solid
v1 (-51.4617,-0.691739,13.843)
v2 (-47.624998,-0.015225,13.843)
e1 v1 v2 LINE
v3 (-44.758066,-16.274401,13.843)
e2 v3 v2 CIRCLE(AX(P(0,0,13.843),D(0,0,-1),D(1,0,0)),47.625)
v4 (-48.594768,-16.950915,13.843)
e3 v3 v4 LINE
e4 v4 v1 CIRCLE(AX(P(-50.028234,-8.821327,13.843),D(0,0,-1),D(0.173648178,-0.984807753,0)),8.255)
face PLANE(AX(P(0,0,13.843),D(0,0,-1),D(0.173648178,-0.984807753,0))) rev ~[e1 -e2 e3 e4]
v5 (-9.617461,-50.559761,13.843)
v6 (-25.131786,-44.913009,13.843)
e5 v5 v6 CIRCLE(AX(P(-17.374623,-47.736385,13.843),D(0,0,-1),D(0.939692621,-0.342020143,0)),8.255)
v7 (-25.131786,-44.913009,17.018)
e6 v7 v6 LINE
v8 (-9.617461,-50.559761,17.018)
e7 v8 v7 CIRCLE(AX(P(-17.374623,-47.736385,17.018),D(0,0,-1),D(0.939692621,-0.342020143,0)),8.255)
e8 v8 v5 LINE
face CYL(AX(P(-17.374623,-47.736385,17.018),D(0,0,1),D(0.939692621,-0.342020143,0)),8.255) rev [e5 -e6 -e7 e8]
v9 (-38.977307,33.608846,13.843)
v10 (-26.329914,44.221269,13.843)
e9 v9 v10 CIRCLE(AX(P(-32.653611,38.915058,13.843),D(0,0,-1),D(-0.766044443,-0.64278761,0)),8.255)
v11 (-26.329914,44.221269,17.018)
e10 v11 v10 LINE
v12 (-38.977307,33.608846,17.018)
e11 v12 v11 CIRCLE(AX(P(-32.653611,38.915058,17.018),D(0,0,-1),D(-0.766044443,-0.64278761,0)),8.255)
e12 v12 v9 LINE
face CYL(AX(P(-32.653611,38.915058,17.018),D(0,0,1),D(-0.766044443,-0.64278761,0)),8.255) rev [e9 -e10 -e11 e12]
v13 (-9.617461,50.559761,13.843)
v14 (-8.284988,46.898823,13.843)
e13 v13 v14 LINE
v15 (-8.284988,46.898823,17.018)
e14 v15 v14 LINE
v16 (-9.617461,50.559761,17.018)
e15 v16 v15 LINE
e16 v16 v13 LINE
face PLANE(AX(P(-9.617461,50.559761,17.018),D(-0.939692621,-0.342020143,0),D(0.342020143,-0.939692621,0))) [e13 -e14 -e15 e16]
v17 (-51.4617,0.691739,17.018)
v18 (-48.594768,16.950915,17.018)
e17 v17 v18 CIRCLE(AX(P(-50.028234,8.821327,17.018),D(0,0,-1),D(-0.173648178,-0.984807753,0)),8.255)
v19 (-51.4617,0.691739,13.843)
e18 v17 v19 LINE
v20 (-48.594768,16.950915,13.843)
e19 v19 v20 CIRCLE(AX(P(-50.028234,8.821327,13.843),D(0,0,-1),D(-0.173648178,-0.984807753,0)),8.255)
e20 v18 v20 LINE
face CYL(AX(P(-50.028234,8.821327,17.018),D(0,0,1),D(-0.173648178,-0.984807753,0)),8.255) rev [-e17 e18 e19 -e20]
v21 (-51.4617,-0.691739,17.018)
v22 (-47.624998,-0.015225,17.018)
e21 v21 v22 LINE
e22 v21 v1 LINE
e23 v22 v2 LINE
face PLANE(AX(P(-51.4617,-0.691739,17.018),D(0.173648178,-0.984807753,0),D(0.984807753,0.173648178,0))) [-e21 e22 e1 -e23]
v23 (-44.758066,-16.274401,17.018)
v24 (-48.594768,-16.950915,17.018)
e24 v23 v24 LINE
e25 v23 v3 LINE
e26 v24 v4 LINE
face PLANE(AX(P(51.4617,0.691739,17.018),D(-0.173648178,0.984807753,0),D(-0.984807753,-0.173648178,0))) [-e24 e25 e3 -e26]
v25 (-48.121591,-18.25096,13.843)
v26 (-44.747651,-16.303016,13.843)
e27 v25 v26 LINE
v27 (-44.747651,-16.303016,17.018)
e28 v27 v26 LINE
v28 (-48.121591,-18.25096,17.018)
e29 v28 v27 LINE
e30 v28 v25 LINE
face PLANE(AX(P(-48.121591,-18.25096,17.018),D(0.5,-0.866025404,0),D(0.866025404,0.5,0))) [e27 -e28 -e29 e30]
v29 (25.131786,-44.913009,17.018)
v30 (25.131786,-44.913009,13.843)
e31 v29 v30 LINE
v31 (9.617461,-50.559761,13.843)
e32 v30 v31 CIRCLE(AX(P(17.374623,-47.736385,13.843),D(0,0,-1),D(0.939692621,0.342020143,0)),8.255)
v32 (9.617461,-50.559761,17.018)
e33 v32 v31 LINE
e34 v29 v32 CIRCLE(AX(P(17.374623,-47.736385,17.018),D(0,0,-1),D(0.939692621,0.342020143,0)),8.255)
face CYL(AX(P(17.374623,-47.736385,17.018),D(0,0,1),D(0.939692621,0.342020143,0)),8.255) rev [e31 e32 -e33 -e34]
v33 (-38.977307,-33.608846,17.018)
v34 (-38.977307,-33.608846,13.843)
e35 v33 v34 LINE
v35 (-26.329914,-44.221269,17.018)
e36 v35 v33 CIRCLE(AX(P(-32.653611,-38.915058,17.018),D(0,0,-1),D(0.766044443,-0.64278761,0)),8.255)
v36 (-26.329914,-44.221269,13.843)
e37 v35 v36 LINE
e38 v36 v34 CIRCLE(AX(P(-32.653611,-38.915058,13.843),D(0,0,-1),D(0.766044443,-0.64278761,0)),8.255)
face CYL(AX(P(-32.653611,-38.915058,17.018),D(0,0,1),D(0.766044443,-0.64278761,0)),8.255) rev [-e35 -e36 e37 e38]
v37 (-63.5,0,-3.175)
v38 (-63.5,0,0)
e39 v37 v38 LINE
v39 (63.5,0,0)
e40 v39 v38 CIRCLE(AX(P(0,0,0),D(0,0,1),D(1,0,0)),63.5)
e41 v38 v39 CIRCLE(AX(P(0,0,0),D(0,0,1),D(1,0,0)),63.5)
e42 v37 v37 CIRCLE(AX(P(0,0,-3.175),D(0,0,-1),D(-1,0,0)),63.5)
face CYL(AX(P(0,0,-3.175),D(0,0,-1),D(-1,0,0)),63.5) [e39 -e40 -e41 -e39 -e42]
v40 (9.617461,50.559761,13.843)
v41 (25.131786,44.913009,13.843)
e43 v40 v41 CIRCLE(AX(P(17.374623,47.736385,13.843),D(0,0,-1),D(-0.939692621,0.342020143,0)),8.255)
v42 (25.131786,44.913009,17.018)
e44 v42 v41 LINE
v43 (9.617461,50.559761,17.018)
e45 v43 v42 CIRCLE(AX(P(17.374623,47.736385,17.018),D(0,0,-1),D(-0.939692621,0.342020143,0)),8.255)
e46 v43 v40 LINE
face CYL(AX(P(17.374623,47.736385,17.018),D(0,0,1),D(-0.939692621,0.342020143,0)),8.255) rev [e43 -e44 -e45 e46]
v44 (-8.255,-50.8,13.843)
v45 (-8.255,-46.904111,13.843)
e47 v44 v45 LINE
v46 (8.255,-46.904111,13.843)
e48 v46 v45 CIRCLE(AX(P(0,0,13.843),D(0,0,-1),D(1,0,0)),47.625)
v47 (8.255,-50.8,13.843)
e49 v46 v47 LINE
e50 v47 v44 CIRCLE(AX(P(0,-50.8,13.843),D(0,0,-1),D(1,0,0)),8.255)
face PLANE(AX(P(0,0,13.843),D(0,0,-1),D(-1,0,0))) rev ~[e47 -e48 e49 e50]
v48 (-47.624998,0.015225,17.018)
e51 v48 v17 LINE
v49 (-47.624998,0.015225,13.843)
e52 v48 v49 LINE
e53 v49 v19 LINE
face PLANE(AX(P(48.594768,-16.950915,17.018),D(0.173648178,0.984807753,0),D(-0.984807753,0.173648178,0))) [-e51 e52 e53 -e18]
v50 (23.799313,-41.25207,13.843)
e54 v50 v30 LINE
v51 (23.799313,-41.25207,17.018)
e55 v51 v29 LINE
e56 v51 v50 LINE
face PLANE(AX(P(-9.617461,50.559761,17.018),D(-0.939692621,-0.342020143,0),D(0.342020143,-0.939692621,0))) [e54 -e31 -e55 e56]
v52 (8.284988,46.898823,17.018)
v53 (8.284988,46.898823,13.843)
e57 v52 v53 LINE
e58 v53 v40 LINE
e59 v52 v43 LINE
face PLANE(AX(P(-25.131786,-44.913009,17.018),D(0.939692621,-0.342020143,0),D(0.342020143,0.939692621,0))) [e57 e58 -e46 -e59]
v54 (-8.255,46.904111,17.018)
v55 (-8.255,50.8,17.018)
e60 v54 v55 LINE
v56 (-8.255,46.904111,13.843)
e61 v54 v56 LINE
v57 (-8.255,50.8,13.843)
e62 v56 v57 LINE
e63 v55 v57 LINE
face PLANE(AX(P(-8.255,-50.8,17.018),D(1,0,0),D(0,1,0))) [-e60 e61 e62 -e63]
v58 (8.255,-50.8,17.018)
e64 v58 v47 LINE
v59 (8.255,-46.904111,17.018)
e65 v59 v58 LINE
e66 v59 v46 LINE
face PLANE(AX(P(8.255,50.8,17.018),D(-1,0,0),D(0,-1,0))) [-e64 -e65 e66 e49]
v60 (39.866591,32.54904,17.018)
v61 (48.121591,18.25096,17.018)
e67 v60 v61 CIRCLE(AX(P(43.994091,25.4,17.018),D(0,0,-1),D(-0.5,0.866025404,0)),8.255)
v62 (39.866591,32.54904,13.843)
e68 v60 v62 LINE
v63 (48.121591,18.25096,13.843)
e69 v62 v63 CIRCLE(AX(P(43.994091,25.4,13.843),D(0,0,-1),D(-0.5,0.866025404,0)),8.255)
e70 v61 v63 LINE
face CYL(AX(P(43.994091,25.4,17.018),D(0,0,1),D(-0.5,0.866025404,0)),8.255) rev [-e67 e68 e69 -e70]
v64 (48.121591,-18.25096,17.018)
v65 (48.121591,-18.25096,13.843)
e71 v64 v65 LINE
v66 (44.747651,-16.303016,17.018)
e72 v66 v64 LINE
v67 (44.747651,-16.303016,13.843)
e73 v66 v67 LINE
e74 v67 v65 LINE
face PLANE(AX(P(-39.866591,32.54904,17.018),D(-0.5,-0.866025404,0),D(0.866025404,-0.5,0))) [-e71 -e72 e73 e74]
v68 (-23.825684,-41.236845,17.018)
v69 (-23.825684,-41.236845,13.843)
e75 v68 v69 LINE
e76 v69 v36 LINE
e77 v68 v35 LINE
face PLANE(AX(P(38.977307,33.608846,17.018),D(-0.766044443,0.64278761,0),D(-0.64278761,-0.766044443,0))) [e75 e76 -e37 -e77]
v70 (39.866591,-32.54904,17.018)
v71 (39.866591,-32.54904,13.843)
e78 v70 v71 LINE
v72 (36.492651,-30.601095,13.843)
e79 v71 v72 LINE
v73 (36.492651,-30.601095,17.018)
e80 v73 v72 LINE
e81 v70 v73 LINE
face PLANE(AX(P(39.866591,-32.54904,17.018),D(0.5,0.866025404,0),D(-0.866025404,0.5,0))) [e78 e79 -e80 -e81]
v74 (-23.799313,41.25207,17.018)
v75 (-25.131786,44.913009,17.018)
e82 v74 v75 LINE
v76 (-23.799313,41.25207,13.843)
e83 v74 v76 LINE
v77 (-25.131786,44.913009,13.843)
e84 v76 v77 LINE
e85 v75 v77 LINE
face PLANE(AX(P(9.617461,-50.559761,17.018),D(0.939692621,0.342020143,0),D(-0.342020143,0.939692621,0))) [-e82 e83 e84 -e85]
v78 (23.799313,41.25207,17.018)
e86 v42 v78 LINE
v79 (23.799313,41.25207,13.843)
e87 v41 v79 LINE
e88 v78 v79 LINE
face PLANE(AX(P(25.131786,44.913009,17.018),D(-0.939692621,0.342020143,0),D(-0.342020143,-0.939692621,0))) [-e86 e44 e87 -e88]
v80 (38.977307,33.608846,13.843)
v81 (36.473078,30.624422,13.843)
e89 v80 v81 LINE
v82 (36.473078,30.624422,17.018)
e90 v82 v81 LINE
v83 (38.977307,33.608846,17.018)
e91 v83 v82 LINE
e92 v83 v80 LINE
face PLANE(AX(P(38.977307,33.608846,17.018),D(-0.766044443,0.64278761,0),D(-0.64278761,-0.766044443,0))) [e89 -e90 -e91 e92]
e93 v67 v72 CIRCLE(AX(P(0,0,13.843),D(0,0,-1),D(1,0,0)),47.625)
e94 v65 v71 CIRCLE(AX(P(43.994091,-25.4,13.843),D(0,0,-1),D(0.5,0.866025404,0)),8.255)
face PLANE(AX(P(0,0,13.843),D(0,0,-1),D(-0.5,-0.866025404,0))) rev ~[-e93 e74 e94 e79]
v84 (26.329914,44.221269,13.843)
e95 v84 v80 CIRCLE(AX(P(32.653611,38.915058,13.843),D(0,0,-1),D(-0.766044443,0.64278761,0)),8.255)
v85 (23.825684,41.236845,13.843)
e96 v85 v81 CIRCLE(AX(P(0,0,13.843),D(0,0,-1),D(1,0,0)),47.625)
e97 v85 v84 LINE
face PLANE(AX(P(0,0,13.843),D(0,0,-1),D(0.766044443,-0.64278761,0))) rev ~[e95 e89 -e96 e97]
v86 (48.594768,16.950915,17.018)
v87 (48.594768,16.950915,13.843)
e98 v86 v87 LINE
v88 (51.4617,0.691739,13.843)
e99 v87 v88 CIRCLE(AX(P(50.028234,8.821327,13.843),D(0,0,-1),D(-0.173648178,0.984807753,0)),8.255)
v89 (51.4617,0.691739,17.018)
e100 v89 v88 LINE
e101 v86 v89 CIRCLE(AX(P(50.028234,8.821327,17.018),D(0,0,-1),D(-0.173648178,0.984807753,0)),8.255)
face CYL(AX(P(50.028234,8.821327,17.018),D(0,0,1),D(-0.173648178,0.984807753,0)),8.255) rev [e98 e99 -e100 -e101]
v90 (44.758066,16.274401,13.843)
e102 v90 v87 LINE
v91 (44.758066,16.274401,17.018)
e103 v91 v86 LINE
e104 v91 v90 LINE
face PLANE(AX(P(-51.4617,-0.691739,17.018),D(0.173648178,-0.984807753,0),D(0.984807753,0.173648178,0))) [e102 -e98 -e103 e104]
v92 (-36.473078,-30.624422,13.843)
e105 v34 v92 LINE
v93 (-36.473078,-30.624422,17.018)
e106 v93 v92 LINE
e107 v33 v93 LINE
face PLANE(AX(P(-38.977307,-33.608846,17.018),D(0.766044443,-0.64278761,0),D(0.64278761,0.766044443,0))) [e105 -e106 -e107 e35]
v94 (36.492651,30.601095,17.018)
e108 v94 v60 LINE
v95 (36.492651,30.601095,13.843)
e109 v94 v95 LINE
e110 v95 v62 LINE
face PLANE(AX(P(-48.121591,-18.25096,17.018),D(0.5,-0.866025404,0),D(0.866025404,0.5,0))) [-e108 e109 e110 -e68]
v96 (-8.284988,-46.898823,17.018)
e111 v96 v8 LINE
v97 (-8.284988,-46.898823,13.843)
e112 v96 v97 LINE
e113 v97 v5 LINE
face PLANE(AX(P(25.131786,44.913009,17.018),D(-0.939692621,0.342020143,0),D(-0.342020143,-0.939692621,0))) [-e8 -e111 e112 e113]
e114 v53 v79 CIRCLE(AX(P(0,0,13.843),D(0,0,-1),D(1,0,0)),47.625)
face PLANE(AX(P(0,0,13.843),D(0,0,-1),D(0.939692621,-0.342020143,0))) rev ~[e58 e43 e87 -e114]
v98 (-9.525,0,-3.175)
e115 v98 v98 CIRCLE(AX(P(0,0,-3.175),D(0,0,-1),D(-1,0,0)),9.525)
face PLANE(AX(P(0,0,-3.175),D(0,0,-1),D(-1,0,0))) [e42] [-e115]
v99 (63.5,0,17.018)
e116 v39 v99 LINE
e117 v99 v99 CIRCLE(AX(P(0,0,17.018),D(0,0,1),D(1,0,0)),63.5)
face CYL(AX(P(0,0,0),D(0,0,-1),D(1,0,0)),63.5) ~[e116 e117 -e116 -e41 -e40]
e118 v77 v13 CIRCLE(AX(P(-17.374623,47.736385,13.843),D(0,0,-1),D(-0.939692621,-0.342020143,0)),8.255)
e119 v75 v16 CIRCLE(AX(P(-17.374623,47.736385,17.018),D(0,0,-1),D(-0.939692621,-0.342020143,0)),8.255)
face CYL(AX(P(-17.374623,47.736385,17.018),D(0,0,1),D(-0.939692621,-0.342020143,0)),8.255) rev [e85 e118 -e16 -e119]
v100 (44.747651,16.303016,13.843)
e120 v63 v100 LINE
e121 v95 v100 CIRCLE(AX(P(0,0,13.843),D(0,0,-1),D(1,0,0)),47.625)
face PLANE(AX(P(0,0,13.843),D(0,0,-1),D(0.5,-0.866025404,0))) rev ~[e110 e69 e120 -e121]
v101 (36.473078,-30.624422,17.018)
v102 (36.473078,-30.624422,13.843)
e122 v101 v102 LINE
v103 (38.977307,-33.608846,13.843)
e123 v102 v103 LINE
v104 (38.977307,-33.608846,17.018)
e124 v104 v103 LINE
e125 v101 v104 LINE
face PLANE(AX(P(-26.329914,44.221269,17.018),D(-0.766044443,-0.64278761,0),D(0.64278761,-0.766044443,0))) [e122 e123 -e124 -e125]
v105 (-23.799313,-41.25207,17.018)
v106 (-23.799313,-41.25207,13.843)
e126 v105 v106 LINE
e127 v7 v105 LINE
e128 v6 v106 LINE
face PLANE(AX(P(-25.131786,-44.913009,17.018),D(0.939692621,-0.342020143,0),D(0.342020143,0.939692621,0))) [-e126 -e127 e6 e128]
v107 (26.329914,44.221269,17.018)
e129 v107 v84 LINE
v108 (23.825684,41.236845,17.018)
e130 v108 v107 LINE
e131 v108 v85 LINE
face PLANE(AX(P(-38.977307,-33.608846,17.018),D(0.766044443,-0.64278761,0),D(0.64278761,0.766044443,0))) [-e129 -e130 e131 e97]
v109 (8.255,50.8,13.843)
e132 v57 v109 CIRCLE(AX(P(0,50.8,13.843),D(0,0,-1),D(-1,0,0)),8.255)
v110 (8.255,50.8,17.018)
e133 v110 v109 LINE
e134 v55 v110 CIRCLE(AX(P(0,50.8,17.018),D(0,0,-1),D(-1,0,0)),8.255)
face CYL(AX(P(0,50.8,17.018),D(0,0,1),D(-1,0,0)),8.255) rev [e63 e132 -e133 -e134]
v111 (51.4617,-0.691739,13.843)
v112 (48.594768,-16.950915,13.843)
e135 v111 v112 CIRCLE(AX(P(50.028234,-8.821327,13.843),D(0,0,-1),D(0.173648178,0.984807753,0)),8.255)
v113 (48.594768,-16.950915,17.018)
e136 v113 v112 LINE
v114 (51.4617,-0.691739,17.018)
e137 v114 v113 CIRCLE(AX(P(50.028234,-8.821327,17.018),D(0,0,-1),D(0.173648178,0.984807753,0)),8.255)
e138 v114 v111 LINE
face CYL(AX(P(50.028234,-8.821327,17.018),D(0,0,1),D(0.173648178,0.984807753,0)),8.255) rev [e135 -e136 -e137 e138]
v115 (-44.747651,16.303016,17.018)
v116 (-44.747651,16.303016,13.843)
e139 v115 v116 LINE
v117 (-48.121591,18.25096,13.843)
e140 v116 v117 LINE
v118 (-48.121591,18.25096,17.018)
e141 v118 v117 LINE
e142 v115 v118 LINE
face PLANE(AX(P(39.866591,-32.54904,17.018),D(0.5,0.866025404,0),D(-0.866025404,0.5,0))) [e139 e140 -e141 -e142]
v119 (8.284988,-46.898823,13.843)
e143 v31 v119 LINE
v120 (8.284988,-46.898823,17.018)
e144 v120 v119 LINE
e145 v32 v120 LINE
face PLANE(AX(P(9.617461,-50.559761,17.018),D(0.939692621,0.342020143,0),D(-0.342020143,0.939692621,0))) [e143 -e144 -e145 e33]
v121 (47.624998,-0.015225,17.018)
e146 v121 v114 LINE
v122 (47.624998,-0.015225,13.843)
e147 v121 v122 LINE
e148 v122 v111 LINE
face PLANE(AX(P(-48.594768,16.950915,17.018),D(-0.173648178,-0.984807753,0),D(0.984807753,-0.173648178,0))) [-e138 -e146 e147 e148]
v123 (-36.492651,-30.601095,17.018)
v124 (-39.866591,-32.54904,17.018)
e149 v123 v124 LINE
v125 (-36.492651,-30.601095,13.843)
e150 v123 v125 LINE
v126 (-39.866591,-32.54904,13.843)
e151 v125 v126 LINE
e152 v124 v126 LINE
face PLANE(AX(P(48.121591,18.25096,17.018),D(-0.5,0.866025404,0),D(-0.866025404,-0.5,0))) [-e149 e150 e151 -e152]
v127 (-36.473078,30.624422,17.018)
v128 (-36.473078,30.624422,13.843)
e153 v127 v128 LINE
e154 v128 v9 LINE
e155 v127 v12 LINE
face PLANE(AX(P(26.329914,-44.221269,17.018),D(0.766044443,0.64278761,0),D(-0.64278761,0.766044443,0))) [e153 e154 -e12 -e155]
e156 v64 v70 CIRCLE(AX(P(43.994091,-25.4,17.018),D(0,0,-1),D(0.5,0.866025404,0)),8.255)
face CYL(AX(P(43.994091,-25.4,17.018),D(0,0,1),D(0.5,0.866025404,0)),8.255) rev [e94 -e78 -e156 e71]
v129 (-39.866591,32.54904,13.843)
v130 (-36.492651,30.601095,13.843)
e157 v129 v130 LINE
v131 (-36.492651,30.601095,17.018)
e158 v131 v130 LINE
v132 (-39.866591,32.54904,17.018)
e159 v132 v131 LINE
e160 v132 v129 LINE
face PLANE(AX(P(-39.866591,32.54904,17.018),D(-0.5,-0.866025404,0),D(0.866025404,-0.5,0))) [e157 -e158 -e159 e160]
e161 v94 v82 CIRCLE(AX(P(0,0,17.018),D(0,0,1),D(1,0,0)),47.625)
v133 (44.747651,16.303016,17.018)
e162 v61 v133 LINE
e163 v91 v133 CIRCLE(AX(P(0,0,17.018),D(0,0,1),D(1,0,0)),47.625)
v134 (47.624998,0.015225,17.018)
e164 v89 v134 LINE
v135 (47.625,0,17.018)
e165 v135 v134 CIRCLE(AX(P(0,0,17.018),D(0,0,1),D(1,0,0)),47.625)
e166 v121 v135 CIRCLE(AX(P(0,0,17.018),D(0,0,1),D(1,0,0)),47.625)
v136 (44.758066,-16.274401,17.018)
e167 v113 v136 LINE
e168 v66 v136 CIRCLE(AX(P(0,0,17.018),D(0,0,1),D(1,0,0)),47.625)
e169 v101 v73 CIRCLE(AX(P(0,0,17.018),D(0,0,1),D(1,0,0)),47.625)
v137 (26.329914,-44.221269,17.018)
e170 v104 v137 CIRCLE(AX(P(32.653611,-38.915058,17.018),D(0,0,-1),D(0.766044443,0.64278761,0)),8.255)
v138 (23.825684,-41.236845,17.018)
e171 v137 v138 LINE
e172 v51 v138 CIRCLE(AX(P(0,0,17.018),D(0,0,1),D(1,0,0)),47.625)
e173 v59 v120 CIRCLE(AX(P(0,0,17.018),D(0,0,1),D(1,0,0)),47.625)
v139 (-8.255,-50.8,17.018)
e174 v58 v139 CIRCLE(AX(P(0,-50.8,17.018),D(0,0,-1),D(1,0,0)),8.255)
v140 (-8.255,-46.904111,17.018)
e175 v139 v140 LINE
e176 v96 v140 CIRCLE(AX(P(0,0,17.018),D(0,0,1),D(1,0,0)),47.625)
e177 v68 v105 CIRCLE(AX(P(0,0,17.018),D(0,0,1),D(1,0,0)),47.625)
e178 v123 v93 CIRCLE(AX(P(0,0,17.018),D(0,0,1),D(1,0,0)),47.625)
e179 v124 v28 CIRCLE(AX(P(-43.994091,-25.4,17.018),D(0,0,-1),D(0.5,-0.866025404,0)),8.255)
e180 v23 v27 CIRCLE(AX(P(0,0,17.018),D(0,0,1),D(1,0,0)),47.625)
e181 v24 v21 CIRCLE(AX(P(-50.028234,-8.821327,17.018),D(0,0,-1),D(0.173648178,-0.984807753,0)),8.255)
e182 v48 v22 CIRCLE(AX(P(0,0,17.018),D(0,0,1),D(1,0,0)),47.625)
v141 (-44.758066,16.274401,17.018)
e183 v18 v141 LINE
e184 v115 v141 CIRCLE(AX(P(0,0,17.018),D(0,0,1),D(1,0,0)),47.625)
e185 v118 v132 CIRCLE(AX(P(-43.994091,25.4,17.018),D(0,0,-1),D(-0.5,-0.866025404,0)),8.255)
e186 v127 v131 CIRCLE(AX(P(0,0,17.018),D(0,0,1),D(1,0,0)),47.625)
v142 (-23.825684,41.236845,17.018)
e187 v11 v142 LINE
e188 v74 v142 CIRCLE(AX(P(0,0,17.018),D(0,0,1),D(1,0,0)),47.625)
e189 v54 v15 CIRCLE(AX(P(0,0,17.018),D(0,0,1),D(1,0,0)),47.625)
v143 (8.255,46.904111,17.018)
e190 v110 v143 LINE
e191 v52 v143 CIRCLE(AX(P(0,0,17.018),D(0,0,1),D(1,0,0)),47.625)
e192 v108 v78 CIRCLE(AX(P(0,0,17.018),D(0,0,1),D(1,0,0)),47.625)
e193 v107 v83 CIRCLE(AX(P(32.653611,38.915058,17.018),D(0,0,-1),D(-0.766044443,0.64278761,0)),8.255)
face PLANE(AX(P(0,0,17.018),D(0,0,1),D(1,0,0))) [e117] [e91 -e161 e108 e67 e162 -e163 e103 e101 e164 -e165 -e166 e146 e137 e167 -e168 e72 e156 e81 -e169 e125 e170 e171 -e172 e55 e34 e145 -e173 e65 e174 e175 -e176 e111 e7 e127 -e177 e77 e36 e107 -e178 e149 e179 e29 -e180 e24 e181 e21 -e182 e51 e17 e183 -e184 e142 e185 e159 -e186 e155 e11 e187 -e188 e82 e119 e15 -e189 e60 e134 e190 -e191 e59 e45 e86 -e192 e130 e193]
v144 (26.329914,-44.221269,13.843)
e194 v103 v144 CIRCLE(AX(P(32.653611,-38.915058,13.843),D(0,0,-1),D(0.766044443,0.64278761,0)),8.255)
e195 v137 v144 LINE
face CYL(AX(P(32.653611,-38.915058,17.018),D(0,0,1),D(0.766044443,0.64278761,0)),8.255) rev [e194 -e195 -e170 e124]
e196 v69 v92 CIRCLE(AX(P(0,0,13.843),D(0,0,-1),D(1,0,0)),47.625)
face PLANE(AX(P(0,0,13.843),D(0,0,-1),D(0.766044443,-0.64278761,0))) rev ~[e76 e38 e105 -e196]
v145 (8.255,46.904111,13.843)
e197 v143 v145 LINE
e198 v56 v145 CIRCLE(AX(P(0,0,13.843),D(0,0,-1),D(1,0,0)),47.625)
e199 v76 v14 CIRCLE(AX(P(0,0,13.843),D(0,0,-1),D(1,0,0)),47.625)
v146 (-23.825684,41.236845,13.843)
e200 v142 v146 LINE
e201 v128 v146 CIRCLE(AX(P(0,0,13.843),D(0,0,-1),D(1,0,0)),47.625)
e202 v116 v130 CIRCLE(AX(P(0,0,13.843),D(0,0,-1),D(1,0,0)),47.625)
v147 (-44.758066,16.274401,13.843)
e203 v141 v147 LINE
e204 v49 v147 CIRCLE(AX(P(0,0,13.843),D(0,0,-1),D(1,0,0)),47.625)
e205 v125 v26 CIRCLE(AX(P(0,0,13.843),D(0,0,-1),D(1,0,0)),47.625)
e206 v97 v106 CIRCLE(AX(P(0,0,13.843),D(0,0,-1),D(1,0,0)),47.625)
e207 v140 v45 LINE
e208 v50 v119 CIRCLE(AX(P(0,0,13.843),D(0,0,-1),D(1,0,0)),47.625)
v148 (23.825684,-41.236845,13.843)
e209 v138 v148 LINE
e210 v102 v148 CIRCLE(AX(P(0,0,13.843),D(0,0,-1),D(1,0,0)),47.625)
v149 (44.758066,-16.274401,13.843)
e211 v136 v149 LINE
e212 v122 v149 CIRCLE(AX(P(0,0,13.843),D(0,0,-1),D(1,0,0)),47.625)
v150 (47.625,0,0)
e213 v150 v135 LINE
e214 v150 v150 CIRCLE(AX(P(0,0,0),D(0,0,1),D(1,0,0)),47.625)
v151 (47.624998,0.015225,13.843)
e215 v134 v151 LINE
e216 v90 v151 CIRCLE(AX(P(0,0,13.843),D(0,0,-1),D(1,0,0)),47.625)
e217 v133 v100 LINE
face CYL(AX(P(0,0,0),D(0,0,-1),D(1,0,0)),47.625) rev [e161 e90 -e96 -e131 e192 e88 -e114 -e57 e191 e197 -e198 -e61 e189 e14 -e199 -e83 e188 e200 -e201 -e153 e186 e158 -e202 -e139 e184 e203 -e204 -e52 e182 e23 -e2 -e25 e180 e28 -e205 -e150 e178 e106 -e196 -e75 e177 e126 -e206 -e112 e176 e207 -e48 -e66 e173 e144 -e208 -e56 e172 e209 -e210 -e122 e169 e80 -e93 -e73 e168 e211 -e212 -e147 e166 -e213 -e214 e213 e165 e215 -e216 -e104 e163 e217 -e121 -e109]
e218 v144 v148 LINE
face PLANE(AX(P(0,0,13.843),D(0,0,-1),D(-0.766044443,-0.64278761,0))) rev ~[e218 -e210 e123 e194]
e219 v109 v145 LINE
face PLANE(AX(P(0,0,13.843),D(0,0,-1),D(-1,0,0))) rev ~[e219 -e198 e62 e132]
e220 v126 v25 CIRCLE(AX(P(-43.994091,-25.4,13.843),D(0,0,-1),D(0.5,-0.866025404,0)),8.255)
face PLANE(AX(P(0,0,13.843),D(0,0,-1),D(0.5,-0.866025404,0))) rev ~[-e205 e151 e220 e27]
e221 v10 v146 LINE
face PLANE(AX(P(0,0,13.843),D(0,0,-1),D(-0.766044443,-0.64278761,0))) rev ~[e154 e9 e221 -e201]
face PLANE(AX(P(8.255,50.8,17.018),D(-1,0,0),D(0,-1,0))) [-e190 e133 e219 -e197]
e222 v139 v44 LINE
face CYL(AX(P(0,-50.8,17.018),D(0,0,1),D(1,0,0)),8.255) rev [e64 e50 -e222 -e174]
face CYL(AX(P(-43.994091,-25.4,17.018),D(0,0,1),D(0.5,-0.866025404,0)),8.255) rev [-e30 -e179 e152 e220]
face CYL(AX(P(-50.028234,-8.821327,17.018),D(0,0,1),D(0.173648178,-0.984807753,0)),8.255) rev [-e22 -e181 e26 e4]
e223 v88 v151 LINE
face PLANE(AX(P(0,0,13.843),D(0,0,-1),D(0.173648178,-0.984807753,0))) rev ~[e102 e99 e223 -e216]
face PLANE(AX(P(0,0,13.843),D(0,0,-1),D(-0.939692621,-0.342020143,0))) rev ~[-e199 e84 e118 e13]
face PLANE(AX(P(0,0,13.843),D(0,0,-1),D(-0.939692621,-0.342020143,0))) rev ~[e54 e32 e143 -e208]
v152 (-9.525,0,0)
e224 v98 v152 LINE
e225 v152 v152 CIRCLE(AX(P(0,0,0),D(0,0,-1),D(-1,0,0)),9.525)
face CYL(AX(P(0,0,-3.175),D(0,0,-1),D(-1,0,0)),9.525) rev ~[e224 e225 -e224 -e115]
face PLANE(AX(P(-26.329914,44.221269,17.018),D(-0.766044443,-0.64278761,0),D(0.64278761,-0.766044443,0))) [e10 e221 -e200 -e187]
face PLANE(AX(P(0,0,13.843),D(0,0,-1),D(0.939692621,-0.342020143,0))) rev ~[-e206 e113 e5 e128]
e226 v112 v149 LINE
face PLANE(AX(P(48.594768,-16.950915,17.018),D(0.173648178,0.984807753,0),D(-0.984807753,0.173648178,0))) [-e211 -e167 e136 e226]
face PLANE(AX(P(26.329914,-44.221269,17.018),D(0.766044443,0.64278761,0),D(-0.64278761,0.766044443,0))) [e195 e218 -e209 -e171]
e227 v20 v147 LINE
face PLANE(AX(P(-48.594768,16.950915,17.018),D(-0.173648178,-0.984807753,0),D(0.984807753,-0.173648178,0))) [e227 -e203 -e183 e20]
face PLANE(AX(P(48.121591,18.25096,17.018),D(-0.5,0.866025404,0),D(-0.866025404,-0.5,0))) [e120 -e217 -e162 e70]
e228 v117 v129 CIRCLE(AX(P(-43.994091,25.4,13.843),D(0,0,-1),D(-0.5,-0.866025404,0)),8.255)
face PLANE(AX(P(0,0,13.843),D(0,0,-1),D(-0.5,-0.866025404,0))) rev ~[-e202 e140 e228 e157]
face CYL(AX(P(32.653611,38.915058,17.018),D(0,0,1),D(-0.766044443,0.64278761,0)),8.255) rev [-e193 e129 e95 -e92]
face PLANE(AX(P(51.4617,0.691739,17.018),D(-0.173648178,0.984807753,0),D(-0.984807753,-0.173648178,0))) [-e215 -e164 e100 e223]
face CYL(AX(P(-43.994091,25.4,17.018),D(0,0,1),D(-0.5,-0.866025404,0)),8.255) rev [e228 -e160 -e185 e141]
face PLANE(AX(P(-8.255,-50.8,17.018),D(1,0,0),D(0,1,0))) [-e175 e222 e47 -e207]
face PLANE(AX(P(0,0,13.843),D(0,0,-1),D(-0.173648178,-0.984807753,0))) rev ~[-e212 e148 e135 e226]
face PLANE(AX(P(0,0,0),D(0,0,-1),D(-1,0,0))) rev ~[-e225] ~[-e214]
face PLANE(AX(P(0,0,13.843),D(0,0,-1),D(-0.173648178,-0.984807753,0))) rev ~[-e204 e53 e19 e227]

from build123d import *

# Parameters (mm, degrees)
SKETCH1_R           = 63.5
SKETCH1_R_2         = 47.625
BOSS_EXTRUDE1_DEPTH = 17.018
CUT_EXTRUDE1_DEPTH  = 3.175
CIRPATTERN1_COUNT   = 10
CIRPATTERN1_ANGLE   = 180
BOSS_EXTRUDE2_START = 3.175
SKETCH3_R           = 63.5
SKETCH3_R_2         = 9.525
BOSS_EXTRUDE2_DEPTH = 3.175


with BuildPart() as part:
    # Sketch1 → Boss-Extrude1 (new body)
    with BuildSketch(Plane.XY):
        Circle(SKETCH1_R)
        Circle(SKETCH1_R_2, mode=Mode.SUBTRACT)
    extrude(amount=BOSS_EXTRUDE1_DEPTH)

    # Sketch2 → Cut-Extrude1 (cut)
    with BuildSketch(Plane.XY.offset(17.018)):
        with BuildLine():
            Line((8.255, 50.8), (8.255, -50.8))
            ThreePointArc((8.255, -50.8), (0, -59.055), (-8.255, -50.8))
            Line((-8.255, -50.8), (-8.255, 50.8))
            ThreePointArc((-8.255, 50.8), (0, 59.055), (8.255, 50.8))
        make_face()
    cut_extrude1 = extrude(amount=-CUT_EXTRUDE1_DEPTH, mode=Mode.SUBTRACT)

    # CirPattern1: Cut-Extrude1 ×10 about axis
    cirpattern1_axis = Axis((0, 0, 0), (0, 0, 1))
    for i in range(1, CIRPATTERN1_COUNT):
        add(cut_extrude1.rotate(cirpattern1_axis, i * CIRPATTERN1_ANGLE / (CIRPATTERN1_COUNT - 1)), mode=Mode.SUBTRACT)

    # Sketch3 → Boss-Extrude2 (add)
    with BuildSketch(Plane(origin=(0, 0, 0), x_dir=(-1, 0, 0), z_dir=(0, 0, -1)).offset(BOSS_EXTRUDE2_START)):
        Circle(SKETCH3_R)
        Circle(SKETCH3_R_2, mode=Mode.SUBTRACT)
    extrude(amount=-BOSS_EXTRUDE2_DEPTH)


solid = part.part
